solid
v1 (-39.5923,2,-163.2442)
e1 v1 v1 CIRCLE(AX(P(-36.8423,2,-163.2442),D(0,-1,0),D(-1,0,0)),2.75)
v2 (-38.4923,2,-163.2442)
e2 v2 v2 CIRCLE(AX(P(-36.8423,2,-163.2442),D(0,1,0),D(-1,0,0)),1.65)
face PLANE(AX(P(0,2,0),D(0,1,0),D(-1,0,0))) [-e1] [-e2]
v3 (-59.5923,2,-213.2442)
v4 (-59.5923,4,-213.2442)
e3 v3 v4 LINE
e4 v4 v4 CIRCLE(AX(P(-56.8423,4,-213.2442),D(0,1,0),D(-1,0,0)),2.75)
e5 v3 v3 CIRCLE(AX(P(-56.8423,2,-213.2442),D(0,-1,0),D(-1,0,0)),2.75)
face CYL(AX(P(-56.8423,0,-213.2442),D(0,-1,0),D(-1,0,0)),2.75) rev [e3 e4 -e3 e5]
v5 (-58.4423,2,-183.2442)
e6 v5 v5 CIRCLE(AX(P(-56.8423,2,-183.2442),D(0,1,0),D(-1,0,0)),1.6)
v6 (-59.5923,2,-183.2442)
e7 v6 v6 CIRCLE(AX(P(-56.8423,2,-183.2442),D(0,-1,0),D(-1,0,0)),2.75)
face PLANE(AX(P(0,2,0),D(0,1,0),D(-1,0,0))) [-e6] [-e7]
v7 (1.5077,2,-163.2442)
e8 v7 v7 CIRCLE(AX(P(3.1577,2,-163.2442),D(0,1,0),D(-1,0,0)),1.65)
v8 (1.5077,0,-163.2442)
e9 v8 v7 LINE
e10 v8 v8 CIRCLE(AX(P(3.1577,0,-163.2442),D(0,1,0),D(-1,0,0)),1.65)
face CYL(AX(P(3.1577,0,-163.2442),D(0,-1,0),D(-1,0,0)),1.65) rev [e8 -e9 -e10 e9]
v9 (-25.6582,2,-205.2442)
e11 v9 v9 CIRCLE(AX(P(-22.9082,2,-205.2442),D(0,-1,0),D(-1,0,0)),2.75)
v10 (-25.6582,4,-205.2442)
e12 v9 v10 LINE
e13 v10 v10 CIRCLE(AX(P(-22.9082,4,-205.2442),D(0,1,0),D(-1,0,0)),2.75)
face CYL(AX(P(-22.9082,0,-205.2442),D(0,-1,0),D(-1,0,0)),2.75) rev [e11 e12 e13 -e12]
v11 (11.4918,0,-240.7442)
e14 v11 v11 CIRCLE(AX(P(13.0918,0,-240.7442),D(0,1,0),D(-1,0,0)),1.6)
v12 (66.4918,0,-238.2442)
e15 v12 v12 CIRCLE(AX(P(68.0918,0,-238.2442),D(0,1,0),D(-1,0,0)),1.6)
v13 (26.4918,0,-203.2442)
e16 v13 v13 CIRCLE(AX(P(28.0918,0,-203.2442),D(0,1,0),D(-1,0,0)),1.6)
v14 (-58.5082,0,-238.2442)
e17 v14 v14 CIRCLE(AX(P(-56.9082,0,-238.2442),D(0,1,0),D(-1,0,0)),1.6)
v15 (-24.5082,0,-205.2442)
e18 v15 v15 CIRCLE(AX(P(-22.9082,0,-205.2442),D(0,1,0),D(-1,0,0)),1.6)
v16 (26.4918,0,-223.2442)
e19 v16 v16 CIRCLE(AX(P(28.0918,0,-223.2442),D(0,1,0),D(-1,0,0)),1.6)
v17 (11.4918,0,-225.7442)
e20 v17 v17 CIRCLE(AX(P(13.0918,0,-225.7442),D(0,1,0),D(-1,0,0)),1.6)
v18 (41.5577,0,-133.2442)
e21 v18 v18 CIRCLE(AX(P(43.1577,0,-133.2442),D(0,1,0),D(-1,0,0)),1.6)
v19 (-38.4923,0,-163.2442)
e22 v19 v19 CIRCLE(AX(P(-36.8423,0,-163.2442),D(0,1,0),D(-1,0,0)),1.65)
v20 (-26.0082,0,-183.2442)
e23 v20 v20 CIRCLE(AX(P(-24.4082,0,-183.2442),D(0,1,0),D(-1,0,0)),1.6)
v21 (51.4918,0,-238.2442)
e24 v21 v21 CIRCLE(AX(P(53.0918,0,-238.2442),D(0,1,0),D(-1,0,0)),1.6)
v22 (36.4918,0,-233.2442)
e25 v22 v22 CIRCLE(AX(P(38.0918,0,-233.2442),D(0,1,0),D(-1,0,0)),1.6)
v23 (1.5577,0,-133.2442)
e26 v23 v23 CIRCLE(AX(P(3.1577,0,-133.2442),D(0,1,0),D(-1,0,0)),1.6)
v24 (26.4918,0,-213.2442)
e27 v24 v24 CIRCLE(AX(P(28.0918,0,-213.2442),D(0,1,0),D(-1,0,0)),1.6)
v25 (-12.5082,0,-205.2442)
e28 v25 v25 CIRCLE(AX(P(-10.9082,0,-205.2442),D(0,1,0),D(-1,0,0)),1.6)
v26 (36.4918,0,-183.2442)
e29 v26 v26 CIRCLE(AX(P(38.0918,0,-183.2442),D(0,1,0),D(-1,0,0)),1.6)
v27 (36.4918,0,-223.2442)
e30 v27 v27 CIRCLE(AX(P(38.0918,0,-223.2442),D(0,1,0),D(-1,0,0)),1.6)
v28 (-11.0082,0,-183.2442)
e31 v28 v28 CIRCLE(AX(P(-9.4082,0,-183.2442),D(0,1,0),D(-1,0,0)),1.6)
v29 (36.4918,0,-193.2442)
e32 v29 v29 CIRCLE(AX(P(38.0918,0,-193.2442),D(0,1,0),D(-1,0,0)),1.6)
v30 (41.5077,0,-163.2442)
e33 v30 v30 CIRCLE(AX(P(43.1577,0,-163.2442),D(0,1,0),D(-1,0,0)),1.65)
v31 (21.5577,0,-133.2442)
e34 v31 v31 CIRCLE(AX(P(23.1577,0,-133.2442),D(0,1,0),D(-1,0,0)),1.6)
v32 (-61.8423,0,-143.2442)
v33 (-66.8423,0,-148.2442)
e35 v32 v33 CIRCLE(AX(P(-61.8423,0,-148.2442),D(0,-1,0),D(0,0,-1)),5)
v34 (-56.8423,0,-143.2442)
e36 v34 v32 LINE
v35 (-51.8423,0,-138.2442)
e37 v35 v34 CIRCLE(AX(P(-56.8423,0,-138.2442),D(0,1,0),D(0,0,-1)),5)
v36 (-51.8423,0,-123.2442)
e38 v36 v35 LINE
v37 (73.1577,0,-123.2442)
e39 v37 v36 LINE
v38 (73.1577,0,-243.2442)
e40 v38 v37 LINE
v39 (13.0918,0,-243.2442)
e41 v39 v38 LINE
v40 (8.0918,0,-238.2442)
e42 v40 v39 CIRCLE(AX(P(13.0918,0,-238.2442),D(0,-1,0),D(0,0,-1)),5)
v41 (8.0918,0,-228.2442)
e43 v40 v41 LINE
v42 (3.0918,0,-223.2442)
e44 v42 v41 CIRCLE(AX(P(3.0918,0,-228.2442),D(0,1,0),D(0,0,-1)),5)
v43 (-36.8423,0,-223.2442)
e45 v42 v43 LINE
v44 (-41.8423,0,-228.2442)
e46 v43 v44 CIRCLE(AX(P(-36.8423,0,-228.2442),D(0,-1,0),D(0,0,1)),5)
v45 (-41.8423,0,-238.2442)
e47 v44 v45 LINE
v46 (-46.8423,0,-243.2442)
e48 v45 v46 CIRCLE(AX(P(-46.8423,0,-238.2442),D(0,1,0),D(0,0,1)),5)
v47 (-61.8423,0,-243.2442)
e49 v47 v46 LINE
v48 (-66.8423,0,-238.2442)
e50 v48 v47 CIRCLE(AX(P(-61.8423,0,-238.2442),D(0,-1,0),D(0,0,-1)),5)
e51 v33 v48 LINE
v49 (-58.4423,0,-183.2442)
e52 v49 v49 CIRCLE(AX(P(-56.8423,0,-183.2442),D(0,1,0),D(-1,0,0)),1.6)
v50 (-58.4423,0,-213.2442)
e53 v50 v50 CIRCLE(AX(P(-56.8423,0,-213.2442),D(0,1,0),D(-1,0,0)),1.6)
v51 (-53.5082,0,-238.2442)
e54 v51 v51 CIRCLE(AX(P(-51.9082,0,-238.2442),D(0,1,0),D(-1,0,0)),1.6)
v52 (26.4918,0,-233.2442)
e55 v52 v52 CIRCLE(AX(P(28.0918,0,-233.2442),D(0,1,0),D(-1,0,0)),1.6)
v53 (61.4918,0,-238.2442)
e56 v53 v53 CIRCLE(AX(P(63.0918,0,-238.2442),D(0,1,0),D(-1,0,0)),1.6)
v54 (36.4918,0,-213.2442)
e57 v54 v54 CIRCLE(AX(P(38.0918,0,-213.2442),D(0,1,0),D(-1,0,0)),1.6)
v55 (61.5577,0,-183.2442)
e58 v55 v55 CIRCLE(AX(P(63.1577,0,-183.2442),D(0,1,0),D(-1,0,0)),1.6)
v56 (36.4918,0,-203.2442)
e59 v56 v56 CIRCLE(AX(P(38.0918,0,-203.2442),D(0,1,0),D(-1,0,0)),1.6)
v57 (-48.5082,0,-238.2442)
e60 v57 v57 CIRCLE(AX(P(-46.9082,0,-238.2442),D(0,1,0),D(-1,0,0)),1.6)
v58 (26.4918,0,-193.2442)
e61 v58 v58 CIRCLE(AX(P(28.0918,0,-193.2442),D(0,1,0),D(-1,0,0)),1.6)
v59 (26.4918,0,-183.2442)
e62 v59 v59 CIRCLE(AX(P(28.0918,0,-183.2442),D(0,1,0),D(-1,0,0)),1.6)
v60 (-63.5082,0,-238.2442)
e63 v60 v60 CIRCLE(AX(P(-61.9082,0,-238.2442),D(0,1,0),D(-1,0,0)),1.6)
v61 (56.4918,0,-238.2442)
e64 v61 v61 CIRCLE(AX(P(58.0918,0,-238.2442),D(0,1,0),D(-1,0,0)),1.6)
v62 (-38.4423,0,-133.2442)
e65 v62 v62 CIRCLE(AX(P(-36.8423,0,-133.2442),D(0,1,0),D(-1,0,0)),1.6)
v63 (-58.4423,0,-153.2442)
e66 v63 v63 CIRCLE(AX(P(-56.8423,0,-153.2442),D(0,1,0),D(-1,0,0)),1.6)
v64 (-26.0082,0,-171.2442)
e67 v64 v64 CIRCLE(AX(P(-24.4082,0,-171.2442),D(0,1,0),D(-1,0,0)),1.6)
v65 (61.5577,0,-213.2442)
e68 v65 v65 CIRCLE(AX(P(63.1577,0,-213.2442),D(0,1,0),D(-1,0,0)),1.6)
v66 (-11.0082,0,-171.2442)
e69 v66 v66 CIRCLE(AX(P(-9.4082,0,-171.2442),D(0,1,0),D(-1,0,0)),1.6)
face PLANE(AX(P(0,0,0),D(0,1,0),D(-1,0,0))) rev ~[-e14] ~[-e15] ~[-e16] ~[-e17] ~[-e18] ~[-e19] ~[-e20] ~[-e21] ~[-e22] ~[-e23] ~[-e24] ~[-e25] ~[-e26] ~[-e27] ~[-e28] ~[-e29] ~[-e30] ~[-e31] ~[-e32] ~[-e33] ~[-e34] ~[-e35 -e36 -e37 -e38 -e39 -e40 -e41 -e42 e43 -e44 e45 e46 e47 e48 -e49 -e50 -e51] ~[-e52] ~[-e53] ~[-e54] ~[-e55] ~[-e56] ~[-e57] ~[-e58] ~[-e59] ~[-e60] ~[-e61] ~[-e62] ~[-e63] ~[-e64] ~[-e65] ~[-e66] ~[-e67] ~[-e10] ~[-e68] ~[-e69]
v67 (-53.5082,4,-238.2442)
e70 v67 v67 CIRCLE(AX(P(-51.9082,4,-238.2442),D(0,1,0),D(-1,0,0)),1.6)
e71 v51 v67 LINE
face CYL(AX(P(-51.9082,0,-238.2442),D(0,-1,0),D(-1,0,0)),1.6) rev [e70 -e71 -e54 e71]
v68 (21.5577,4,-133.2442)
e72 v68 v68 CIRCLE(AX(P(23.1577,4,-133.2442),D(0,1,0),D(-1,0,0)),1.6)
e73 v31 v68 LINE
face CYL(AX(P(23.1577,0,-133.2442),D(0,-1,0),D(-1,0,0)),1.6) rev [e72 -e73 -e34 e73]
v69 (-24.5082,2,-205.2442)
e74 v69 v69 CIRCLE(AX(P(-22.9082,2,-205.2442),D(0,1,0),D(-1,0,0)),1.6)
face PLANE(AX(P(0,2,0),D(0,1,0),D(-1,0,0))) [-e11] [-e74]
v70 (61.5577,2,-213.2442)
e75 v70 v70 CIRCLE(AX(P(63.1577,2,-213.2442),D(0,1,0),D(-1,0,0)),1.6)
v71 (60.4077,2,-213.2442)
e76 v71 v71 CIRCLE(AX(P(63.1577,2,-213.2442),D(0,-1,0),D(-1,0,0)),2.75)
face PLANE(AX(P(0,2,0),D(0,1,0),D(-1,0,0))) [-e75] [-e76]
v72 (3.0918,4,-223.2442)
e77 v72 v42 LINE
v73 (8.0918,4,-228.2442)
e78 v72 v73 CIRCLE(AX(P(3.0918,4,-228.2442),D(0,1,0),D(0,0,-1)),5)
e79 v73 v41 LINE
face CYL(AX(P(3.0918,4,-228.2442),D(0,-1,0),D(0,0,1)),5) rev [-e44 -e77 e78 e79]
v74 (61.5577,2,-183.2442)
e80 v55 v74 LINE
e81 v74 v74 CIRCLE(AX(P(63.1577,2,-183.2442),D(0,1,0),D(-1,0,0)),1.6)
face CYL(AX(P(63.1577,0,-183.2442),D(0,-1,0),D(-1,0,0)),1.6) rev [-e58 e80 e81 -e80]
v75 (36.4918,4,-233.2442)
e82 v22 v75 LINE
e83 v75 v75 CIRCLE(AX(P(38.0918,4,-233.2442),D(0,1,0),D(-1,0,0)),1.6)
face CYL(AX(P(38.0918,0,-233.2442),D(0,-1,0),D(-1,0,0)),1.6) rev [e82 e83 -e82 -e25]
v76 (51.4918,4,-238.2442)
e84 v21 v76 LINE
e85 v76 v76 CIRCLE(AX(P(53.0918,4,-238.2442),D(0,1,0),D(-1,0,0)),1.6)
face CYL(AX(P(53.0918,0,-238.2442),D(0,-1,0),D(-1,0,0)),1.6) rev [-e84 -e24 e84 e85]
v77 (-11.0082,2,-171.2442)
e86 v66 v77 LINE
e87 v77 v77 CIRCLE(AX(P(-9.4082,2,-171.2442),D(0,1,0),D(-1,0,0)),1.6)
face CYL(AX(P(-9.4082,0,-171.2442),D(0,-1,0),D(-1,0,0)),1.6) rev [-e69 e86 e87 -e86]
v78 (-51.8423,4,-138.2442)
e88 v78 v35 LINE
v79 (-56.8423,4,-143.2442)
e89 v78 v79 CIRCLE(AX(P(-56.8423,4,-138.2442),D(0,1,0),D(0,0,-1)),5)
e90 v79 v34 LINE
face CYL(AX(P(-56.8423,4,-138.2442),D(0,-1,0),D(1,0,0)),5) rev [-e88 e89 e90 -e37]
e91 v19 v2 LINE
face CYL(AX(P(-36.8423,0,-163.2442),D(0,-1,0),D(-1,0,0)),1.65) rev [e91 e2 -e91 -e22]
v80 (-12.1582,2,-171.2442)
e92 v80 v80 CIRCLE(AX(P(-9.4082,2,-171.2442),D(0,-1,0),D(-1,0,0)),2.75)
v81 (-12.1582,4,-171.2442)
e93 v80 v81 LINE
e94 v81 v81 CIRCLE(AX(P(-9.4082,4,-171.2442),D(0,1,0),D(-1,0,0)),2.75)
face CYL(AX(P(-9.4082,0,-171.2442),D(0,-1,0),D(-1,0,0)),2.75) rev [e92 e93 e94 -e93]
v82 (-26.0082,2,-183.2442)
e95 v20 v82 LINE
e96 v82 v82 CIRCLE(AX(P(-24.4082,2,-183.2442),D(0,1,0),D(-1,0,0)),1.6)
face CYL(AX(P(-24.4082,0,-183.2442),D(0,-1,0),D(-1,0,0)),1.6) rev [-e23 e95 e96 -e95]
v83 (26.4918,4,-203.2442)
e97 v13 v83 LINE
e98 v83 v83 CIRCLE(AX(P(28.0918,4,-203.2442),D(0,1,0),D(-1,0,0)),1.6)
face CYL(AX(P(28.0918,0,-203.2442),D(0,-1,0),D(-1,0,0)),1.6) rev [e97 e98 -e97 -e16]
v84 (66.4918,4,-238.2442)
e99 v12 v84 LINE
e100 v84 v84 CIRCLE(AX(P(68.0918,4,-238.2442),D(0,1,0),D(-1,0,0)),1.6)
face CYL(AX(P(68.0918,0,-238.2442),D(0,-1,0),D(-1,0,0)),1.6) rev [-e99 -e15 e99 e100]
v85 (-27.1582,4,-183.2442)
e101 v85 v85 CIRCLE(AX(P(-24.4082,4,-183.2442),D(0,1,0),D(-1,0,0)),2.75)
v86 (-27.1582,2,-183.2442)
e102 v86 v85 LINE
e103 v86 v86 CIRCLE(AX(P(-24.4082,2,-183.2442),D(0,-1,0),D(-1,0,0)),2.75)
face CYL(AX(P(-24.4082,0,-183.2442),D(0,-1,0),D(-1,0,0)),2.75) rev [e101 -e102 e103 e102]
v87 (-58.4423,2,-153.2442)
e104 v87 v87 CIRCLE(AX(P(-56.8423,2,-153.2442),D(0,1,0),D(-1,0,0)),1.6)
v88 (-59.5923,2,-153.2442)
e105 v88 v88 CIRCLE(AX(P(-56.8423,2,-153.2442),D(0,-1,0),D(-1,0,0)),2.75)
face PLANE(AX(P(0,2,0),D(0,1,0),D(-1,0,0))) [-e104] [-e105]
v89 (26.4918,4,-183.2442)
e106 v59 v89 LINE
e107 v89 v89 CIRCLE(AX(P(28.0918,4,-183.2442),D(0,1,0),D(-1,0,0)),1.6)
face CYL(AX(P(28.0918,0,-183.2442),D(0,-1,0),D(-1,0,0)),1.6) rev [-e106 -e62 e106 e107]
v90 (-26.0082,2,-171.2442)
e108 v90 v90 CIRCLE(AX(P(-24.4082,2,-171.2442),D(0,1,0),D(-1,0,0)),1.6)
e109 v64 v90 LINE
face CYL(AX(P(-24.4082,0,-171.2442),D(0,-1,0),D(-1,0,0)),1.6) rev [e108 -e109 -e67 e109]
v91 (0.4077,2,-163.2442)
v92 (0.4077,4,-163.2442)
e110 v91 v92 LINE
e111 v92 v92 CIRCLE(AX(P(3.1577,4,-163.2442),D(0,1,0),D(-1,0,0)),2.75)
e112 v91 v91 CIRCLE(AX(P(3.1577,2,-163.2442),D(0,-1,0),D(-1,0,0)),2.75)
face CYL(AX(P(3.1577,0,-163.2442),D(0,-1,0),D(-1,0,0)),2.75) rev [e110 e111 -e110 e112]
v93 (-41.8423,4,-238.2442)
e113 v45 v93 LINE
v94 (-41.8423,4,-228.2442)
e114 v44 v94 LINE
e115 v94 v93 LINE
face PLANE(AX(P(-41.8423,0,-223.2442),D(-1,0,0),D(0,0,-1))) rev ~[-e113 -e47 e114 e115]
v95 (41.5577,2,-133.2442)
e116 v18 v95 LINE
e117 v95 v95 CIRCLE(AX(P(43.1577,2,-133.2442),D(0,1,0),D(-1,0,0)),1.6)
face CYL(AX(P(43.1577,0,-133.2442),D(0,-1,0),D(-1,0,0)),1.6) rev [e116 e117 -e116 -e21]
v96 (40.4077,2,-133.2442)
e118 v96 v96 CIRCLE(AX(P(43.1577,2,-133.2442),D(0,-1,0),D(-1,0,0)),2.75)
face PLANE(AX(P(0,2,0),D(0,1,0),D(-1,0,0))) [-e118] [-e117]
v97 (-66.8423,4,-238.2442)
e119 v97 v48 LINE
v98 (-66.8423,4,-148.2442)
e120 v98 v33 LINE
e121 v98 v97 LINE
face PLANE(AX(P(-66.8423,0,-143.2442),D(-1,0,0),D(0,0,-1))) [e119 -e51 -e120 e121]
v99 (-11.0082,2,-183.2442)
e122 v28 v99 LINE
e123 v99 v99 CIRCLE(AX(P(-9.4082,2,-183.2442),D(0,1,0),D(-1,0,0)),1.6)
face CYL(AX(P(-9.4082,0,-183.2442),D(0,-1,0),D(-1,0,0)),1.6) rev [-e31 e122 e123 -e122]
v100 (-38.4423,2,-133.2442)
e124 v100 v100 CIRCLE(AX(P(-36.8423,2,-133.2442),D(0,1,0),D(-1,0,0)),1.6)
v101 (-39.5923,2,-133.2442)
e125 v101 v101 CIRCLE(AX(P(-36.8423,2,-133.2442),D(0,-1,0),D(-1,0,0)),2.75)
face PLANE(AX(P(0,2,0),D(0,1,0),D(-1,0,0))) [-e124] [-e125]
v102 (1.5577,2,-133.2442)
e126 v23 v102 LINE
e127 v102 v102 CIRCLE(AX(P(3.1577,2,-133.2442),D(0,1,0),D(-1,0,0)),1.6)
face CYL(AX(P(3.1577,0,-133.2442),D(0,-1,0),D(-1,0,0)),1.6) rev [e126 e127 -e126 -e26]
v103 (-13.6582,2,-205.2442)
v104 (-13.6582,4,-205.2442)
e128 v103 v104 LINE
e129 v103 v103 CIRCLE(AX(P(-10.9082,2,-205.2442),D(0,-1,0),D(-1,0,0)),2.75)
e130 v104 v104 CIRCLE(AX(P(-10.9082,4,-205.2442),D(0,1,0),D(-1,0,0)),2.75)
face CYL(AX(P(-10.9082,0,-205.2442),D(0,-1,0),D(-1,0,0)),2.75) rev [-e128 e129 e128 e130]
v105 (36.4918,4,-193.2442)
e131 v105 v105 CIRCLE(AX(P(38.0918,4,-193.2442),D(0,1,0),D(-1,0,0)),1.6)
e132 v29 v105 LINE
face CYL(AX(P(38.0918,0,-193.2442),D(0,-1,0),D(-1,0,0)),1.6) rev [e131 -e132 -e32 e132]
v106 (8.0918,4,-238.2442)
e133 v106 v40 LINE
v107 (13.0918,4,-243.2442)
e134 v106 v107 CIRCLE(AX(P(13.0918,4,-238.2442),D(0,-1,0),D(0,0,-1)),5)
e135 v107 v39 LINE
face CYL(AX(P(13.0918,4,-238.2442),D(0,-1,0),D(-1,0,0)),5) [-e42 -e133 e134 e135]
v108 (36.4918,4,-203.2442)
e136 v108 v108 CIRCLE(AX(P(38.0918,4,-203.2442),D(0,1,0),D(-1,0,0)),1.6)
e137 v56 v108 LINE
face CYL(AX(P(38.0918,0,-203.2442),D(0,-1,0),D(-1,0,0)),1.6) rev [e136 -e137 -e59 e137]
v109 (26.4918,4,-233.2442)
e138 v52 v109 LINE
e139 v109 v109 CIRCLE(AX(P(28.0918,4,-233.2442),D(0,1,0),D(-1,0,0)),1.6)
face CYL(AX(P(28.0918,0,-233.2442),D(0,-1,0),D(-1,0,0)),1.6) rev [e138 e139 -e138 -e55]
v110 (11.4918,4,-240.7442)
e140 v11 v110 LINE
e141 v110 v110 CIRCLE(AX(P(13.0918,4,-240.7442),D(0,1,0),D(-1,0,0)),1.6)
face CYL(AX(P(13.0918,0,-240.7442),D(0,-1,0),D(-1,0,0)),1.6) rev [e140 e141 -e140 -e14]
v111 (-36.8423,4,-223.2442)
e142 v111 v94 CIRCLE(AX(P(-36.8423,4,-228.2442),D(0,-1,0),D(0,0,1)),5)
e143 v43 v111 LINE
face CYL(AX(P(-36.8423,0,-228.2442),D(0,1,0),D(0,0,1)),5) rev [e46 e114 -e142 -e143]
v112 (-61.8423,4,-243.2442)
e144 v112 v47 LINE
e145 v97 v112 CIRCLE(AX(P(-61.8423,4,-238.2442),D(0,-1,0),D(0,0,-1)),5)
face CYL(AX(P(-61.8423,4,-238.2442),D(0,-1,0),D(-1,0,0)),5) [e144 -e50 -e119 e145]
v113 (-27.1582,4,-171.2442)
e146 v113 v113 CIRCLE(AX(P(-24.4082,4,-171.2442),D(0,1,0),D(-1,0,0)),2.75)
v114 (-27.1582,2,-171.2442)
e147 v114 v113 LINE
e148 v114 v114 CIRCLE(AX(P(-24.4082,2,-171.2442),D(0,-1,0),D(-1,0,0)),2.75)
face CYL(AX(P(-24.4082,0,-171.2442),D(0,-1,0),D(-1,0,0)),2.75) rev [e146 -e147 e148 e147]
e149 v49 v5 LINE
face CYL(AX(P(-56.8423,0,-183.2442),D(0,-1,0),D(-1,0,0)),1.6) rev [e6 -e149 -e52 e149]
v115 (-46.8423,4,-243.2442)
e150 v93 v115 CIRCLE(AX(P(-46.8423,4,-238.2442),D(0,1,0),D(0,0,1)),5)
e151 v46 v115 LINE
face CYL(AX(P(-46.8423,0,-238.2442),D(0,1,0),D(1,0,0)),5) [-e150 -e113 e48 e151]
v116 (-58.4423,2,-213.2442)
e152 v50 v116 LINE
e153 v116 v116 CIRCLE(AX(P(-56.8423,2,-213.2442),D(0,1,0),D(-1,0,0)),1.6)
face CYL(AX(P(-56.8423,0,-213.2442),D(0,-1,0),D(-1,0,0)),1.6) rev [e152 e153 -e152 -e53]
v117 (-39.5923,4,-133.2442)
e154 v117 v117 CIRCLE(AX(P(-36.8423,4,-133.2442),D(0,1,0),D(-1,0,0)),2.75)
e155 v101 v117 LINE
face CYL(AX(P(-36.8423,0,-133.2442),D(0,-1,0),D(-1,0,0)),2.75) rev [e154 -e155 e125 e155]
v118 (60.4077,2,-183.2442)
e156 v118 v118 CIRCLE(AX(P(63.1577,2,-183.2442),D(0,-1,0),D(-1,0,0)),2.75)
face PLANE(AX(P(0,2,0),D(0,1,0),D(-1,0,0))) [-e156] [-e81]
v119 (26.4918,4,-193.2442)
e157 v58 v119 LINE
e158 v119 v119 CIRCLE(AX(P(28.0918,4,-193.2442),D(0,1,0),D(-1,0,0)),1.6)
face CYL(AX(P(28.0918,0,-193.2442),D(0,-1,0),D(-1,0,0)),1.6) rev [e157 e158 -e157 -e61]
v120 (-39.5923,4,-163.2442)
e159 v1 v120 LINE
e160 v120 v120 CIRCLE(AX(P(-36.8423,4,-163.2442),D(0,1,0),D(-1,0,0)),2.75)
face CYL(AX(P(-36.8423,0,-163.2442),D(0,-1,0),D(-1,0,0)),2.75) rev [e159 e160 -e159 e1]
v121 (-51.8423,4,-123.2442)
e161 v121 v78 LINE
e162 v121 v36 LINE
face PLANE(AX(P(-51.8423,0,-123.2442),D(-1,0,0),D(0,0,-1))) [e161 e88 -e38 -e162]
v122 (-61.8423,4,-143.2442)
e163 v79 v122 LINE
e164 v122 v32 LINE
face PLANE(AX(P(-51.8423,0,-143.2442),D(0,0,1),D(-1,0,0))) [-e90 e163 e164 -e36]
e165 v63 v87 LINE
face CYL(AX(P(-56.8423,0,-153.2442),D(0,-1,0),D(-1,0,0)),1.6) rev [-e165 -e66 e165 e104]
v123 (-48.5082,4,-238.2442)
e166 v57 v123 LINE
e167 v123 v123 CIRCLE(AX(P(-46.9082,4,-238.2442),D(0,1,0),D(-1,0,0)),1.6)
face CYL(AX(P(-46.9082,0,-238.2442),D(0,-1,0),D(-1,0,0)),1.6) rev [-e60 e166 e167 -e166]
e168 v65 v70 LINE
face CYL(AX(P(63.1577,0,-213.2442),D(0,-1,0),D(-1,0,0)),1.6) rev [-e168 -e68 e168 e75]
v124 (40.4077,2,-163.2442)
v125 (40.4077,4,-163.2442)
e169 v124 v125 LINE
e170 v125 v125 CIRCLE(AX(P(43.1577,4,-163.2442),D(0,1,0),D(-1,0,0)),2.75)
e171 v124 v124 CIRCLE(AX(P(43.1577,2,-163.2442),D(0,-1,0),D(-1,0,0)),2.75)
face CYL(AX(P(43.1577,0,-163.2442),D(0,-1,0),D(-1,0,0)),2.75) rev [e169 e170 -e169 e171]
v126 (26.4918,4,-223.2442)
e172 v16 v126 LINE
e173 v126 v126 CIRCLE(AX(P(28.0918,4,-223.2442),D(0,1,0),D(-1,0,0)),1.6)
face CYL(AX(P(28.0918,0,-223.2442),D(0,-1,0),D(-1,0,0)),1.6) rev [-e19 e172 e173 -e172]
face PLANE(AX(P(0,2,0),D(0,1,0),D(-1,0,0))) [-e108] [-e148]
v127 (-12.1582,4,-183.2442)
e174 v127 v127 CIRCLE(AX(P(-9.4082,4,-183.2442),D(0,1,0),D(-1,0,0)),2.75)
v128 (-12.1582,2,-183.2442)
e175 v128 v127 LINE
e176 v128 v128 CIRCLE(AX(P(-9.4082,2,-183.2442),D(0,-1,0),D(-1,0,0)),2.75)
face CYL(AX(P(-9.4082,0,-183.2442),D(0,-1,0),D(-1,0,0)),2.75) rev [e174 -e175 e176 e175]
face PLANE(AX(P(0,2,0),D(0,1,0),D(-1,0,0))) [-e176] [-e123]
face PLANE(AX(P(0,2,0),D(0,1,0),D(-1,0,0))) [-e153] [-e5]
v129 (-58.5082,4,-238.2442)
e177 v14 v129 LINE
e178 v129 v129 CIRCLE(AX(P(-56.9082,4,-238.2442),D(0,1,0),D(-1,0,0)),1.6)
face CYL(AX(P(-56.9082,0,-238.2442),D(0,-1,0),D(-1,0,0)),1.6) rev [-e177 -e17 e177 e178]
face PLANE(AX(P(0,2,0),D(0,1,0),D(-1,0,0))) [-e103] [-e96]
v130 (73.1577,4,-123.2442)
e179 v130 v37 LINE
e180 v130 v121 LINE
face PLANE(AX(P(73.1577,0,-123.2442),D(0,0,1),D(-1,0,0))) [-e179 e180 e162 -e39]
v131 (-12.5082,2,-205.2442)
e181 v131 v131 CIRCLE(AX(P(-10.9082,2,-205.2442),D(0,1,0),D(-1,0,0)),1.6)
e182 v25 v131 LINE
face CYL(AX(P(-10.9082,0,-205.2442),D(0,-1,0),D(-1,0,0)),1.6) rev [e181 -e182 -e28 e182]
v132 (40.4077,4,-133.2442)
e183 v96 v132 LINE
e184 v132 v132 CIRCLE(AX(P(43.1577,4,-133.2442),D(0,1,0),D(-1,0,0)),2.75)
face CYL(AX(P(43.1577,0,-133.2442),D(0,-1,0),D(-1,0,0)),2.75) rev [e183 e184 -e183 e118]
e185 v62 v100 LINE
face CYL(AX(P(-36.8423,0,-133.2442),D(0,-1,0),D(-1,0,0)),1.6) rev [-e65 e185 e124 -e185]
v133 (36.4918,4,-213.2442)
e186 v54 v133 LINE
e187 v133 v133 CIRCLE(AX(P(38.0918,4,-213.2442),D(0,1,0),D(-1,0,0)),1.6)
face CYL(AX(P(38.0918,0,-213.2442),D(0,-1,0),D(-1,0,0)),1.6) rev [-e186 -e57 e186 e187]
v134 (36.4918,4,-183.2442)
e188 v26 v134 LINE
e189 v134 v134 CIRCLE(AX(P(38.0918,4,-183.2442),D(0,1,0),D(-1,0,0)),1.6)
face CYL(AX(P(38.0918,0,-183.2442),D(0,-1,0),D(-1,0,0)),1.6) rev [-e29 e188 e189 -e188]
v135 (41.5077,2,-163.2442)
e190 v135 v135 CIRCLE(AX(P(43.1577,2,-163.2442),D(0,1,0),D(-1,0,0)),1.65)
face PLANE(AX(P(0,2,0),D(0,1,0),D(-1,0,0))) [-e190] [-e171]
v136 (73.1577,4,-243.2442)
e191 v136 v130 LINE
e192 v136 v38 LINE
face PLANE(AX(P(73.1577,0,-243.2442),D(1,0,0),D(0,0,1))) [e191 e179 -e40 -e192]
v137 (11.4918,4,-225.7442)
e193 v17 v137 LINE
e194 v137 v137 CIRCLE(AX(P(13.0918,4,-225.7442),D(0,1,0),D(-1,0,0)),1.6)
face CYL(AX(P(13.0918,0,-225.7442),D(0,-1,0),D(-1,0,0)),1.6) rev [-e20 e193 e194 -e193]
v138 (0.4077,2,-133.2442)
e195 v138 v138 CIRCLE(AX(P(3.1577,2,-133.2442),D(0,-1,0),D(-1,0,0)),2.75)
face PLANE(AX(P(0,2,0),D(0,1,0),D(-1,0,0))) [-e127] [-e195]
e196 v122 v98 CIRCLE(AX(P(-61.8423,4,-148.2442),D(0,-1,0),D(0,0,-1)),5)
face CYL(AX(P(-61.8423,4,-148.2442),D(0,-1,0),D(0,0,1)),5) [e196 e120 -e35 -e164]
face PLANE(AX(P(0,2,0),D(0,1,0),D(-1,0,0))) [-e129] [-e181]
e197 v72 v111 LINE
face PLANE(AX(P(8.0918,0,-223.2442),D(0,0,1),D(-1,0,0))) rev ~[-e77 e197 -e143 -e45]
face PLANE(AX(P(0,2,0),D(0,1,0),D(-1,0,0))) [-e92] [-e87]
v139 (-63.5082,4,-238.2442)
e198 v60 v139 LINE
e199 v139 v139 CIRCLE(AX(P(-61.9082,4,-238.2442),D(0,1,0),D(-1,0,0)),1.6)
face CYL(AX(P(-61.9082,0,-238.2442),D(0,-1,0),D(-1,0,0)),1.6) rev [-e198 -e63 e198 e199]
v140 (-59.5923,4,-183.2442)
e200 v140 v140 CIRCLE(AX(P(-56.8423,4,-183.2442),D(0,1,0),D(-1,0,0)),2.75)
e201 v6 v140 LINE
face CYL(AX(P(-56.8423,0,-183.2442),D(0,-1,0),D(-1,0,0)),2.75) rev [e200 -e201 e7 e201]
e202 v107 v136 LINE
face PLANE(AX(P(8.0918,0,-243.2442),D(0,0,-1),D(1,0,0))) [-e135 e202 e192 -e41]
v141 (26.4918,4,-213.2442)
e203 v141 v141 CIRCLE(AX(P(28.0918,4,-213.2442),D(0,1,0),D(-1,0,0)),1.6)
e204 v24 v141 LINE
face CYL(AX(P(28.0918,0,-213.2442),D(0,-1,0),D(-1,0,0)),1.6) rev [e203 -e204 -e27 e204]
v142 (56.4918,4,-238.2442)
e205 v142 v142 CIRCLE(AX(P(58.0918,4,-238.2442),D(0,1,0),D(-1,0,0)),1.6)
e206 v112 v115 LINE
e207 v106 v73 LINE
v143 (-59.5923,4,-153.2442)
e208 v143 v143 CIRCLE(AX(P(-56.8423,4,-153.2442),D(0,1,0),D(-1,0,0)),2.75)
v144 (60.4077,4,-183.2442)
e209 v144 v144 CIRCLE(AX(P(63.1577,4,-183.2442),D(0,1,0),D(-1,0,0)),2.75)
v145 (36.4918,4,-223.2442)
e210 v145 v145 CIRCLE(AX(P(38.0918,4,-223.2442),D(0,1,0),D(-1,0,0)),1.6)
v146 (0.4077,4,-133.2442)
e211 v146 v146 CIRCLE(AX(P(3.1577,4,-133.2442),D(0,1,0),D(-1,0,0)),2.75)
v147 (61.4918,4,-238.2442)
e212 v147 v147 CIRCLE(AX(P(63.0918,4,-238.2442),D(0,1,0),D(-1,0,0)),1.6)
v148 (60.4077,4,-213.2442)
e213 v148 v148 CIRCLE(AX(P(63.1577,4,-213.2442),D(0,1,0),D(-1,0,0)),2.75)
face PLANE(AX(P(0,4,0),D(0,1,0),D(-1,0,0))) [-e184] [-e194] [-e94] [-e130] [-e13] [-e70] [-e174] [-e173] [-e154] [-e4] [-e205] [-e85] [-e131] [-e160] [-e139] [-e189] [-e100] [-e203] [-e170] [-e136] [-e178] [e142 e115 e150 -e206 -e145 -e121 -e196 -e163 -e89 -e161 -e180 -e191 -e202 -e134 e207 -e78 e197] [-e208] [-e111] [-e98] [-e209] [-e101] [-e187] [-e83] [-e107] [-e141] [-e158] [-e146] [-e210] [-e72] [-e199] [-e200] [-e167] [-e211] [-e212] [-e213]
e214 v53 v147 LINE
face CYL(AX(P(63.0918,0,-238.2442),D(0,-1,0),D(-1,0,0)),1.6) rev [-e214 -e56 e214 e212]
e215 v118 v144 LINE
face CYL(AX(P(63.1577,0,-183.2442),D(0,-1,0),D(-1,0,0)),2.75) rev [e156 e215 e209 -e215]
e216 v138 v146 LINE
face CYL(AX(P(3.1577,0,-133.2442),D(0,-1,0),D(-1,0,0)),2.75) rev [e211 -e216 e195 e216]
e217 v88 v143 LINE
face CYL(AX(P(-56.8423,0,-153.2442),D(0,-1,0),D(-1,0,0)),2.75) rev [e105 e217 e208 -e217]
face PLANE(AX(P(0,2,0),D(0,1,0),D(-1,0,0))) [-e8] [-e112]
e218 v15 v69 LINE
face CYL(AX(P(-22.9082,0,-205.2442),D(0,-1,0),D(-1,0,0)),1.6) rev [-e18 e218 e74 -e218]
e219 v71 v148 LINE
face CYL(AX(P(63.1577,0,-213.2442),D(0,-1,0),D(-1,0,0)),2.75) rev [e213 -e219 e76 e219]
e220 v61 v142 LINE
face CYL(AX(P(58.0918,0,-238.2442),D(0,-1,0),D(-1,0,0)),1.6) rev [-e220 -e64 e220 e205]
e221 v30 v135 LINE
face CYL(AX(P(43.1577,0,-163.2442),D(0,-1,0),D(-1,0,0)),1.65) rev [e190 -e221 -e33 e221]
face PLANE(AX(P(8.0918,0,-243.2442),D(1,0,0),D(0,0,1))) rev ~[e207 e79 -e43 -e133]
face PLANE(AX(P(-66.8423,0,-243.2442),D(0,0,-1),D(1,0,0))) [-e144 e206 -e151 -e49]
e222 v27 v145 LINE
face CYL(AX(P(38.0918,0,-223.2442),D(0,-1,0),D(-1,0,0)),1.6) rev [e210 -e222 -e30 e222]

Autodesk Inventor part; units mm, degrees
ref_plane "YZ Plane" through (0, 0, 0) normal (1, 0, 0) x (0, 1, 0)
ref_plane "XZ Plane" through (0, 0, 0) normal (0, 1, 0) x (-1, 0, 0)
ref_plane "XY Plane" through (0, 0, 0) normal (0, 0, 1) x (1, 0, 0)
sketch "Sketch1" plane through (0, 0, 0) normal (0, 1, 0) x (-1, 0, 0)
  circle A0 centre (51.9082, -238.2442) radius 1.6
  circle A1 centre (46.9082, -238.2442) radius 1.6
  line L0 (41.8423, -223.2442) -> (41.8423, -243.2442)
  line L1 (41.8423, -243.2442) -> (-8.0918, -243.2442)
  line L2 (-8.0918, -223.2442) -> (41.8423, -223.2442)
  line L3 (-8.0918, -243.2442) -> (-8.0918, -223.2442)
  circle A2 centre (56.9082, -238.2442) radius 1.6
  circle A3 centre (61.9082, -238.2442) radius 1.6
  circle A4 centre (9.4082, -171.2442) radius 2.75
  line L4 (66.8423, -243.2442) -> (-73.1577, -243.2442)
  line L5 (66.8423, -123.2442) -> (66.8423, -243.2442)
  line L6 (-3.1577, -123.2442) -> (-3.1577, -243.2442) construction
  line L7 (71.8423, -183.2442) -> (-68.1577, -183.2442) construction
  line L8 (-73.1577, -123.2442) -> (66.8423, -123.2442)
  line L9 (-73.1577, -243.2442) -> (-73.1577, -123.2442)
  circle A5 centre (-63.1577, -213.2442) radius 1.6
  circle A6 centre (-63.1577, -183.2442) radius 1.6
  circle A7 centre (-63.1577, -183.2442) radius 2.75
  circle A8 centre (-63.1577, -213.2442) radius 2.75
  circle A9 centre (-68.0918, -238.2442) radius 1.6
  circle A10 centre (-63.0918, -238.2442) radius 1.6
  circle A11 centre (-58.0918, -238.2442) radius 1.6
  circle A12 centre (-53.0918, -238.2442) radius 1.6
  circle A13 centre (9.4082, -171.2442) radius 1.6
  circle A14 centre (24.4082, -171.2442) radius 1.6
  circle A15 centre (24.4082, -171.2442) radius 2.75
  circle A16 centre (9.4082, -183.2442) radius 1.6
  circle A17 centre (9.4082, -183.2442) radius 2.75
  circle A18 centre (24.4082, -183.2442) radius 1.6
  circle A19 centre (24.4082, -183.2442) radius 2.75
  circle A20 centre (10.9082, -205.2442) radius 1.6
  circle A21 centre (10.9082, -205.2442) radius 2.75
  circle A22 centre (22.9082, -205.2442) radius 1.6
  circle A23 centre (22.9082, -205.2442) radius 2.75
  circle A24 centre (-43.1577, -133.2442) radius 1.6
  circle A25 centre (-43.1577, -133.2442) radius 2.75
  circle A26 centre (-3.1577, -133.2442) radius 1.6
  circle A27 centre (-3.1577, -133.2442) radius 2.75
  circle A28 centre (36.8423, -133.2442) radius 1.6
  circle A29 centre (36.8423, -133.2442) radius 2.75
  circle A30 centre (56.9082, -128.2442) radius 1.6
  circle A31 centre (61.9082, -128.2442) radius 1.6
  circle A32 centre (56.8423, -213.2442) radius 1.6
  circle A33 centre (56.8423, -213.2442) radius 2.75
  circle A34 centre (56.8423, -183.2442) radius 1.6
  circle A35 centre (56.8423, -183.2442) radius 2.75
  circle A36 centre (56.8423, -153.2442) radius 1.6
  circle A37 centre (56.8423, -153.2442) radius 2.75
  circle A38 centre (-13.0918, -240.7442) radius 1.6
  circle A39 centre (-13.0918, -225.7442) radius 1.6
  circle A40 centre (-38.0918, -233.2442) radius 1.6
  circle A41 centre (-28.0918, -233.2442) radius 1.6
  circle A42 centre (-28.0918, -223.2442) radius 1.6
  circle A43 centre (-38.0918, -223.2442) radius 1.6
  circle A44 centre (-28.0918, -203.2442) radius 1.6
  circle A45 centre (-28.0918, -213.2442) radius 1.6
  circle A46 centre (-38.0918, -203.2442) radius 1.6
  circle A47 centre (-38.0918, -213.2442) radius 1.6
  line L10 (-33.0918, -198.2442) -> (-28.0918, -198.2442)
  circle A48 centre (-28.0918, -183.2442) radius 1.6
  circle A49 centre (-38.0918, -183.2442) radius 1.6
  circle A50 centre (-38.0918, -193.2442) radius 1.6
  circle A51 centre (-28.0918, -193.2442) radius 1.6
  circle A52 centre (36.8423, -163.2442) radius 1.65
  circle A53 centre (36.8423, -163.2442) radius 2.75
  circle A54 centre (-3.1577, -163.2442) radius 1.65
  circle A55 centre (-3.1577, -163.2442) radius 2.75
  circle A56 centre (-43.1577, -163.2442) radius 1.65
  circle A57 centre (-43.1577, -163.2442) radius 2.75
  line L11 (66.8423, -123.2442) -> (51.8423, -123.2442)
  line L12 (51.8423, -123.2442) -> (51.8423, -143.2442)
  line L13 (51.8423, -143.2442) -> (66.8423, -143.2442)
  line L14 (66.8423, -143.2442) -> (66.8423, -123.2442)
  circle A58 centre (-23.1577, -133.2442) radius 1.6
  point P0 (0, -190.5)
  point P1 (16.9082, -168.6317)
  point P2 (16.9082, -205.2442)
  dimension "d33" = 140
  dimension "d34" = 120
  dimension "d35" = 10
  dimension "d36" = 10
  dimension "d37" = 10
  dimension "d39" = 10
  dimension "d40" = 10
  dimension "d41" = 10
  dimension "d42" = 10
  dimension "d43" = 10
  dimension "d44" = 40
  dimension "d45" = 40
  dimension "d46" = 3.2
  dimension "d47" = 2.5
  dimension "d48" = 5
  dimension "d49" = 3.2
  dimension "d50" = 15
  dimension "d60" = 3.2
  dimension "d61" = 3.2
  dimension "d63" = 3.2
  dimension "d65" = 3.2
  dimension "d66" = 10
  dimension "d69" = 10
  dimension "d70" = 10
  dimension "d71" = 10
  dimension "d76" = 3.3
  dimension "d77" = 5.5
  dimension "d78" = 30
  dimension "d79" = 3.3
  dimension "d80" = 5.5
  dimension "d81" = 15
  dimension "d82" = 20
  dimension "d84" = 3.2
  dimension "d85" = 20
extrude "Extrusion1" add sketch "Sketch1" along normal blind 4 contours L2 L3 L4 L9 L8 L12 L13 L5 L0
sketch "Sketch2" plane through (0, 4, 0) normal (0, 1, 0) x (1, 0, 0)
  point P0 (0, 0)
extrude "Extrusion2" add sketch "Sketch1" along normal blind 2 contours L2 L3 L4 L9 L8 L12 L13 L5 L0 | A4 | A7 | A8 | A15 | A17 | A19 | A21 | A23 | A25 | A27 | A29 | A33 | A35 | A37 | A53 | A55 | A57
fillet "Fillet1" radius 5 7 edges at (-51.8423, 2, -143.2442) (-66.8423, 2, -143.2442) (-66.8423, 2, -243.2442) (8.0918, 2, -243.2442) (8.0918, 2, -223.2442) (-41.8423, 2, -223.2442) (-41.8423, 2, -243.2442)
properties part number "Fix Casis Kanan Depan_3DPrint"
